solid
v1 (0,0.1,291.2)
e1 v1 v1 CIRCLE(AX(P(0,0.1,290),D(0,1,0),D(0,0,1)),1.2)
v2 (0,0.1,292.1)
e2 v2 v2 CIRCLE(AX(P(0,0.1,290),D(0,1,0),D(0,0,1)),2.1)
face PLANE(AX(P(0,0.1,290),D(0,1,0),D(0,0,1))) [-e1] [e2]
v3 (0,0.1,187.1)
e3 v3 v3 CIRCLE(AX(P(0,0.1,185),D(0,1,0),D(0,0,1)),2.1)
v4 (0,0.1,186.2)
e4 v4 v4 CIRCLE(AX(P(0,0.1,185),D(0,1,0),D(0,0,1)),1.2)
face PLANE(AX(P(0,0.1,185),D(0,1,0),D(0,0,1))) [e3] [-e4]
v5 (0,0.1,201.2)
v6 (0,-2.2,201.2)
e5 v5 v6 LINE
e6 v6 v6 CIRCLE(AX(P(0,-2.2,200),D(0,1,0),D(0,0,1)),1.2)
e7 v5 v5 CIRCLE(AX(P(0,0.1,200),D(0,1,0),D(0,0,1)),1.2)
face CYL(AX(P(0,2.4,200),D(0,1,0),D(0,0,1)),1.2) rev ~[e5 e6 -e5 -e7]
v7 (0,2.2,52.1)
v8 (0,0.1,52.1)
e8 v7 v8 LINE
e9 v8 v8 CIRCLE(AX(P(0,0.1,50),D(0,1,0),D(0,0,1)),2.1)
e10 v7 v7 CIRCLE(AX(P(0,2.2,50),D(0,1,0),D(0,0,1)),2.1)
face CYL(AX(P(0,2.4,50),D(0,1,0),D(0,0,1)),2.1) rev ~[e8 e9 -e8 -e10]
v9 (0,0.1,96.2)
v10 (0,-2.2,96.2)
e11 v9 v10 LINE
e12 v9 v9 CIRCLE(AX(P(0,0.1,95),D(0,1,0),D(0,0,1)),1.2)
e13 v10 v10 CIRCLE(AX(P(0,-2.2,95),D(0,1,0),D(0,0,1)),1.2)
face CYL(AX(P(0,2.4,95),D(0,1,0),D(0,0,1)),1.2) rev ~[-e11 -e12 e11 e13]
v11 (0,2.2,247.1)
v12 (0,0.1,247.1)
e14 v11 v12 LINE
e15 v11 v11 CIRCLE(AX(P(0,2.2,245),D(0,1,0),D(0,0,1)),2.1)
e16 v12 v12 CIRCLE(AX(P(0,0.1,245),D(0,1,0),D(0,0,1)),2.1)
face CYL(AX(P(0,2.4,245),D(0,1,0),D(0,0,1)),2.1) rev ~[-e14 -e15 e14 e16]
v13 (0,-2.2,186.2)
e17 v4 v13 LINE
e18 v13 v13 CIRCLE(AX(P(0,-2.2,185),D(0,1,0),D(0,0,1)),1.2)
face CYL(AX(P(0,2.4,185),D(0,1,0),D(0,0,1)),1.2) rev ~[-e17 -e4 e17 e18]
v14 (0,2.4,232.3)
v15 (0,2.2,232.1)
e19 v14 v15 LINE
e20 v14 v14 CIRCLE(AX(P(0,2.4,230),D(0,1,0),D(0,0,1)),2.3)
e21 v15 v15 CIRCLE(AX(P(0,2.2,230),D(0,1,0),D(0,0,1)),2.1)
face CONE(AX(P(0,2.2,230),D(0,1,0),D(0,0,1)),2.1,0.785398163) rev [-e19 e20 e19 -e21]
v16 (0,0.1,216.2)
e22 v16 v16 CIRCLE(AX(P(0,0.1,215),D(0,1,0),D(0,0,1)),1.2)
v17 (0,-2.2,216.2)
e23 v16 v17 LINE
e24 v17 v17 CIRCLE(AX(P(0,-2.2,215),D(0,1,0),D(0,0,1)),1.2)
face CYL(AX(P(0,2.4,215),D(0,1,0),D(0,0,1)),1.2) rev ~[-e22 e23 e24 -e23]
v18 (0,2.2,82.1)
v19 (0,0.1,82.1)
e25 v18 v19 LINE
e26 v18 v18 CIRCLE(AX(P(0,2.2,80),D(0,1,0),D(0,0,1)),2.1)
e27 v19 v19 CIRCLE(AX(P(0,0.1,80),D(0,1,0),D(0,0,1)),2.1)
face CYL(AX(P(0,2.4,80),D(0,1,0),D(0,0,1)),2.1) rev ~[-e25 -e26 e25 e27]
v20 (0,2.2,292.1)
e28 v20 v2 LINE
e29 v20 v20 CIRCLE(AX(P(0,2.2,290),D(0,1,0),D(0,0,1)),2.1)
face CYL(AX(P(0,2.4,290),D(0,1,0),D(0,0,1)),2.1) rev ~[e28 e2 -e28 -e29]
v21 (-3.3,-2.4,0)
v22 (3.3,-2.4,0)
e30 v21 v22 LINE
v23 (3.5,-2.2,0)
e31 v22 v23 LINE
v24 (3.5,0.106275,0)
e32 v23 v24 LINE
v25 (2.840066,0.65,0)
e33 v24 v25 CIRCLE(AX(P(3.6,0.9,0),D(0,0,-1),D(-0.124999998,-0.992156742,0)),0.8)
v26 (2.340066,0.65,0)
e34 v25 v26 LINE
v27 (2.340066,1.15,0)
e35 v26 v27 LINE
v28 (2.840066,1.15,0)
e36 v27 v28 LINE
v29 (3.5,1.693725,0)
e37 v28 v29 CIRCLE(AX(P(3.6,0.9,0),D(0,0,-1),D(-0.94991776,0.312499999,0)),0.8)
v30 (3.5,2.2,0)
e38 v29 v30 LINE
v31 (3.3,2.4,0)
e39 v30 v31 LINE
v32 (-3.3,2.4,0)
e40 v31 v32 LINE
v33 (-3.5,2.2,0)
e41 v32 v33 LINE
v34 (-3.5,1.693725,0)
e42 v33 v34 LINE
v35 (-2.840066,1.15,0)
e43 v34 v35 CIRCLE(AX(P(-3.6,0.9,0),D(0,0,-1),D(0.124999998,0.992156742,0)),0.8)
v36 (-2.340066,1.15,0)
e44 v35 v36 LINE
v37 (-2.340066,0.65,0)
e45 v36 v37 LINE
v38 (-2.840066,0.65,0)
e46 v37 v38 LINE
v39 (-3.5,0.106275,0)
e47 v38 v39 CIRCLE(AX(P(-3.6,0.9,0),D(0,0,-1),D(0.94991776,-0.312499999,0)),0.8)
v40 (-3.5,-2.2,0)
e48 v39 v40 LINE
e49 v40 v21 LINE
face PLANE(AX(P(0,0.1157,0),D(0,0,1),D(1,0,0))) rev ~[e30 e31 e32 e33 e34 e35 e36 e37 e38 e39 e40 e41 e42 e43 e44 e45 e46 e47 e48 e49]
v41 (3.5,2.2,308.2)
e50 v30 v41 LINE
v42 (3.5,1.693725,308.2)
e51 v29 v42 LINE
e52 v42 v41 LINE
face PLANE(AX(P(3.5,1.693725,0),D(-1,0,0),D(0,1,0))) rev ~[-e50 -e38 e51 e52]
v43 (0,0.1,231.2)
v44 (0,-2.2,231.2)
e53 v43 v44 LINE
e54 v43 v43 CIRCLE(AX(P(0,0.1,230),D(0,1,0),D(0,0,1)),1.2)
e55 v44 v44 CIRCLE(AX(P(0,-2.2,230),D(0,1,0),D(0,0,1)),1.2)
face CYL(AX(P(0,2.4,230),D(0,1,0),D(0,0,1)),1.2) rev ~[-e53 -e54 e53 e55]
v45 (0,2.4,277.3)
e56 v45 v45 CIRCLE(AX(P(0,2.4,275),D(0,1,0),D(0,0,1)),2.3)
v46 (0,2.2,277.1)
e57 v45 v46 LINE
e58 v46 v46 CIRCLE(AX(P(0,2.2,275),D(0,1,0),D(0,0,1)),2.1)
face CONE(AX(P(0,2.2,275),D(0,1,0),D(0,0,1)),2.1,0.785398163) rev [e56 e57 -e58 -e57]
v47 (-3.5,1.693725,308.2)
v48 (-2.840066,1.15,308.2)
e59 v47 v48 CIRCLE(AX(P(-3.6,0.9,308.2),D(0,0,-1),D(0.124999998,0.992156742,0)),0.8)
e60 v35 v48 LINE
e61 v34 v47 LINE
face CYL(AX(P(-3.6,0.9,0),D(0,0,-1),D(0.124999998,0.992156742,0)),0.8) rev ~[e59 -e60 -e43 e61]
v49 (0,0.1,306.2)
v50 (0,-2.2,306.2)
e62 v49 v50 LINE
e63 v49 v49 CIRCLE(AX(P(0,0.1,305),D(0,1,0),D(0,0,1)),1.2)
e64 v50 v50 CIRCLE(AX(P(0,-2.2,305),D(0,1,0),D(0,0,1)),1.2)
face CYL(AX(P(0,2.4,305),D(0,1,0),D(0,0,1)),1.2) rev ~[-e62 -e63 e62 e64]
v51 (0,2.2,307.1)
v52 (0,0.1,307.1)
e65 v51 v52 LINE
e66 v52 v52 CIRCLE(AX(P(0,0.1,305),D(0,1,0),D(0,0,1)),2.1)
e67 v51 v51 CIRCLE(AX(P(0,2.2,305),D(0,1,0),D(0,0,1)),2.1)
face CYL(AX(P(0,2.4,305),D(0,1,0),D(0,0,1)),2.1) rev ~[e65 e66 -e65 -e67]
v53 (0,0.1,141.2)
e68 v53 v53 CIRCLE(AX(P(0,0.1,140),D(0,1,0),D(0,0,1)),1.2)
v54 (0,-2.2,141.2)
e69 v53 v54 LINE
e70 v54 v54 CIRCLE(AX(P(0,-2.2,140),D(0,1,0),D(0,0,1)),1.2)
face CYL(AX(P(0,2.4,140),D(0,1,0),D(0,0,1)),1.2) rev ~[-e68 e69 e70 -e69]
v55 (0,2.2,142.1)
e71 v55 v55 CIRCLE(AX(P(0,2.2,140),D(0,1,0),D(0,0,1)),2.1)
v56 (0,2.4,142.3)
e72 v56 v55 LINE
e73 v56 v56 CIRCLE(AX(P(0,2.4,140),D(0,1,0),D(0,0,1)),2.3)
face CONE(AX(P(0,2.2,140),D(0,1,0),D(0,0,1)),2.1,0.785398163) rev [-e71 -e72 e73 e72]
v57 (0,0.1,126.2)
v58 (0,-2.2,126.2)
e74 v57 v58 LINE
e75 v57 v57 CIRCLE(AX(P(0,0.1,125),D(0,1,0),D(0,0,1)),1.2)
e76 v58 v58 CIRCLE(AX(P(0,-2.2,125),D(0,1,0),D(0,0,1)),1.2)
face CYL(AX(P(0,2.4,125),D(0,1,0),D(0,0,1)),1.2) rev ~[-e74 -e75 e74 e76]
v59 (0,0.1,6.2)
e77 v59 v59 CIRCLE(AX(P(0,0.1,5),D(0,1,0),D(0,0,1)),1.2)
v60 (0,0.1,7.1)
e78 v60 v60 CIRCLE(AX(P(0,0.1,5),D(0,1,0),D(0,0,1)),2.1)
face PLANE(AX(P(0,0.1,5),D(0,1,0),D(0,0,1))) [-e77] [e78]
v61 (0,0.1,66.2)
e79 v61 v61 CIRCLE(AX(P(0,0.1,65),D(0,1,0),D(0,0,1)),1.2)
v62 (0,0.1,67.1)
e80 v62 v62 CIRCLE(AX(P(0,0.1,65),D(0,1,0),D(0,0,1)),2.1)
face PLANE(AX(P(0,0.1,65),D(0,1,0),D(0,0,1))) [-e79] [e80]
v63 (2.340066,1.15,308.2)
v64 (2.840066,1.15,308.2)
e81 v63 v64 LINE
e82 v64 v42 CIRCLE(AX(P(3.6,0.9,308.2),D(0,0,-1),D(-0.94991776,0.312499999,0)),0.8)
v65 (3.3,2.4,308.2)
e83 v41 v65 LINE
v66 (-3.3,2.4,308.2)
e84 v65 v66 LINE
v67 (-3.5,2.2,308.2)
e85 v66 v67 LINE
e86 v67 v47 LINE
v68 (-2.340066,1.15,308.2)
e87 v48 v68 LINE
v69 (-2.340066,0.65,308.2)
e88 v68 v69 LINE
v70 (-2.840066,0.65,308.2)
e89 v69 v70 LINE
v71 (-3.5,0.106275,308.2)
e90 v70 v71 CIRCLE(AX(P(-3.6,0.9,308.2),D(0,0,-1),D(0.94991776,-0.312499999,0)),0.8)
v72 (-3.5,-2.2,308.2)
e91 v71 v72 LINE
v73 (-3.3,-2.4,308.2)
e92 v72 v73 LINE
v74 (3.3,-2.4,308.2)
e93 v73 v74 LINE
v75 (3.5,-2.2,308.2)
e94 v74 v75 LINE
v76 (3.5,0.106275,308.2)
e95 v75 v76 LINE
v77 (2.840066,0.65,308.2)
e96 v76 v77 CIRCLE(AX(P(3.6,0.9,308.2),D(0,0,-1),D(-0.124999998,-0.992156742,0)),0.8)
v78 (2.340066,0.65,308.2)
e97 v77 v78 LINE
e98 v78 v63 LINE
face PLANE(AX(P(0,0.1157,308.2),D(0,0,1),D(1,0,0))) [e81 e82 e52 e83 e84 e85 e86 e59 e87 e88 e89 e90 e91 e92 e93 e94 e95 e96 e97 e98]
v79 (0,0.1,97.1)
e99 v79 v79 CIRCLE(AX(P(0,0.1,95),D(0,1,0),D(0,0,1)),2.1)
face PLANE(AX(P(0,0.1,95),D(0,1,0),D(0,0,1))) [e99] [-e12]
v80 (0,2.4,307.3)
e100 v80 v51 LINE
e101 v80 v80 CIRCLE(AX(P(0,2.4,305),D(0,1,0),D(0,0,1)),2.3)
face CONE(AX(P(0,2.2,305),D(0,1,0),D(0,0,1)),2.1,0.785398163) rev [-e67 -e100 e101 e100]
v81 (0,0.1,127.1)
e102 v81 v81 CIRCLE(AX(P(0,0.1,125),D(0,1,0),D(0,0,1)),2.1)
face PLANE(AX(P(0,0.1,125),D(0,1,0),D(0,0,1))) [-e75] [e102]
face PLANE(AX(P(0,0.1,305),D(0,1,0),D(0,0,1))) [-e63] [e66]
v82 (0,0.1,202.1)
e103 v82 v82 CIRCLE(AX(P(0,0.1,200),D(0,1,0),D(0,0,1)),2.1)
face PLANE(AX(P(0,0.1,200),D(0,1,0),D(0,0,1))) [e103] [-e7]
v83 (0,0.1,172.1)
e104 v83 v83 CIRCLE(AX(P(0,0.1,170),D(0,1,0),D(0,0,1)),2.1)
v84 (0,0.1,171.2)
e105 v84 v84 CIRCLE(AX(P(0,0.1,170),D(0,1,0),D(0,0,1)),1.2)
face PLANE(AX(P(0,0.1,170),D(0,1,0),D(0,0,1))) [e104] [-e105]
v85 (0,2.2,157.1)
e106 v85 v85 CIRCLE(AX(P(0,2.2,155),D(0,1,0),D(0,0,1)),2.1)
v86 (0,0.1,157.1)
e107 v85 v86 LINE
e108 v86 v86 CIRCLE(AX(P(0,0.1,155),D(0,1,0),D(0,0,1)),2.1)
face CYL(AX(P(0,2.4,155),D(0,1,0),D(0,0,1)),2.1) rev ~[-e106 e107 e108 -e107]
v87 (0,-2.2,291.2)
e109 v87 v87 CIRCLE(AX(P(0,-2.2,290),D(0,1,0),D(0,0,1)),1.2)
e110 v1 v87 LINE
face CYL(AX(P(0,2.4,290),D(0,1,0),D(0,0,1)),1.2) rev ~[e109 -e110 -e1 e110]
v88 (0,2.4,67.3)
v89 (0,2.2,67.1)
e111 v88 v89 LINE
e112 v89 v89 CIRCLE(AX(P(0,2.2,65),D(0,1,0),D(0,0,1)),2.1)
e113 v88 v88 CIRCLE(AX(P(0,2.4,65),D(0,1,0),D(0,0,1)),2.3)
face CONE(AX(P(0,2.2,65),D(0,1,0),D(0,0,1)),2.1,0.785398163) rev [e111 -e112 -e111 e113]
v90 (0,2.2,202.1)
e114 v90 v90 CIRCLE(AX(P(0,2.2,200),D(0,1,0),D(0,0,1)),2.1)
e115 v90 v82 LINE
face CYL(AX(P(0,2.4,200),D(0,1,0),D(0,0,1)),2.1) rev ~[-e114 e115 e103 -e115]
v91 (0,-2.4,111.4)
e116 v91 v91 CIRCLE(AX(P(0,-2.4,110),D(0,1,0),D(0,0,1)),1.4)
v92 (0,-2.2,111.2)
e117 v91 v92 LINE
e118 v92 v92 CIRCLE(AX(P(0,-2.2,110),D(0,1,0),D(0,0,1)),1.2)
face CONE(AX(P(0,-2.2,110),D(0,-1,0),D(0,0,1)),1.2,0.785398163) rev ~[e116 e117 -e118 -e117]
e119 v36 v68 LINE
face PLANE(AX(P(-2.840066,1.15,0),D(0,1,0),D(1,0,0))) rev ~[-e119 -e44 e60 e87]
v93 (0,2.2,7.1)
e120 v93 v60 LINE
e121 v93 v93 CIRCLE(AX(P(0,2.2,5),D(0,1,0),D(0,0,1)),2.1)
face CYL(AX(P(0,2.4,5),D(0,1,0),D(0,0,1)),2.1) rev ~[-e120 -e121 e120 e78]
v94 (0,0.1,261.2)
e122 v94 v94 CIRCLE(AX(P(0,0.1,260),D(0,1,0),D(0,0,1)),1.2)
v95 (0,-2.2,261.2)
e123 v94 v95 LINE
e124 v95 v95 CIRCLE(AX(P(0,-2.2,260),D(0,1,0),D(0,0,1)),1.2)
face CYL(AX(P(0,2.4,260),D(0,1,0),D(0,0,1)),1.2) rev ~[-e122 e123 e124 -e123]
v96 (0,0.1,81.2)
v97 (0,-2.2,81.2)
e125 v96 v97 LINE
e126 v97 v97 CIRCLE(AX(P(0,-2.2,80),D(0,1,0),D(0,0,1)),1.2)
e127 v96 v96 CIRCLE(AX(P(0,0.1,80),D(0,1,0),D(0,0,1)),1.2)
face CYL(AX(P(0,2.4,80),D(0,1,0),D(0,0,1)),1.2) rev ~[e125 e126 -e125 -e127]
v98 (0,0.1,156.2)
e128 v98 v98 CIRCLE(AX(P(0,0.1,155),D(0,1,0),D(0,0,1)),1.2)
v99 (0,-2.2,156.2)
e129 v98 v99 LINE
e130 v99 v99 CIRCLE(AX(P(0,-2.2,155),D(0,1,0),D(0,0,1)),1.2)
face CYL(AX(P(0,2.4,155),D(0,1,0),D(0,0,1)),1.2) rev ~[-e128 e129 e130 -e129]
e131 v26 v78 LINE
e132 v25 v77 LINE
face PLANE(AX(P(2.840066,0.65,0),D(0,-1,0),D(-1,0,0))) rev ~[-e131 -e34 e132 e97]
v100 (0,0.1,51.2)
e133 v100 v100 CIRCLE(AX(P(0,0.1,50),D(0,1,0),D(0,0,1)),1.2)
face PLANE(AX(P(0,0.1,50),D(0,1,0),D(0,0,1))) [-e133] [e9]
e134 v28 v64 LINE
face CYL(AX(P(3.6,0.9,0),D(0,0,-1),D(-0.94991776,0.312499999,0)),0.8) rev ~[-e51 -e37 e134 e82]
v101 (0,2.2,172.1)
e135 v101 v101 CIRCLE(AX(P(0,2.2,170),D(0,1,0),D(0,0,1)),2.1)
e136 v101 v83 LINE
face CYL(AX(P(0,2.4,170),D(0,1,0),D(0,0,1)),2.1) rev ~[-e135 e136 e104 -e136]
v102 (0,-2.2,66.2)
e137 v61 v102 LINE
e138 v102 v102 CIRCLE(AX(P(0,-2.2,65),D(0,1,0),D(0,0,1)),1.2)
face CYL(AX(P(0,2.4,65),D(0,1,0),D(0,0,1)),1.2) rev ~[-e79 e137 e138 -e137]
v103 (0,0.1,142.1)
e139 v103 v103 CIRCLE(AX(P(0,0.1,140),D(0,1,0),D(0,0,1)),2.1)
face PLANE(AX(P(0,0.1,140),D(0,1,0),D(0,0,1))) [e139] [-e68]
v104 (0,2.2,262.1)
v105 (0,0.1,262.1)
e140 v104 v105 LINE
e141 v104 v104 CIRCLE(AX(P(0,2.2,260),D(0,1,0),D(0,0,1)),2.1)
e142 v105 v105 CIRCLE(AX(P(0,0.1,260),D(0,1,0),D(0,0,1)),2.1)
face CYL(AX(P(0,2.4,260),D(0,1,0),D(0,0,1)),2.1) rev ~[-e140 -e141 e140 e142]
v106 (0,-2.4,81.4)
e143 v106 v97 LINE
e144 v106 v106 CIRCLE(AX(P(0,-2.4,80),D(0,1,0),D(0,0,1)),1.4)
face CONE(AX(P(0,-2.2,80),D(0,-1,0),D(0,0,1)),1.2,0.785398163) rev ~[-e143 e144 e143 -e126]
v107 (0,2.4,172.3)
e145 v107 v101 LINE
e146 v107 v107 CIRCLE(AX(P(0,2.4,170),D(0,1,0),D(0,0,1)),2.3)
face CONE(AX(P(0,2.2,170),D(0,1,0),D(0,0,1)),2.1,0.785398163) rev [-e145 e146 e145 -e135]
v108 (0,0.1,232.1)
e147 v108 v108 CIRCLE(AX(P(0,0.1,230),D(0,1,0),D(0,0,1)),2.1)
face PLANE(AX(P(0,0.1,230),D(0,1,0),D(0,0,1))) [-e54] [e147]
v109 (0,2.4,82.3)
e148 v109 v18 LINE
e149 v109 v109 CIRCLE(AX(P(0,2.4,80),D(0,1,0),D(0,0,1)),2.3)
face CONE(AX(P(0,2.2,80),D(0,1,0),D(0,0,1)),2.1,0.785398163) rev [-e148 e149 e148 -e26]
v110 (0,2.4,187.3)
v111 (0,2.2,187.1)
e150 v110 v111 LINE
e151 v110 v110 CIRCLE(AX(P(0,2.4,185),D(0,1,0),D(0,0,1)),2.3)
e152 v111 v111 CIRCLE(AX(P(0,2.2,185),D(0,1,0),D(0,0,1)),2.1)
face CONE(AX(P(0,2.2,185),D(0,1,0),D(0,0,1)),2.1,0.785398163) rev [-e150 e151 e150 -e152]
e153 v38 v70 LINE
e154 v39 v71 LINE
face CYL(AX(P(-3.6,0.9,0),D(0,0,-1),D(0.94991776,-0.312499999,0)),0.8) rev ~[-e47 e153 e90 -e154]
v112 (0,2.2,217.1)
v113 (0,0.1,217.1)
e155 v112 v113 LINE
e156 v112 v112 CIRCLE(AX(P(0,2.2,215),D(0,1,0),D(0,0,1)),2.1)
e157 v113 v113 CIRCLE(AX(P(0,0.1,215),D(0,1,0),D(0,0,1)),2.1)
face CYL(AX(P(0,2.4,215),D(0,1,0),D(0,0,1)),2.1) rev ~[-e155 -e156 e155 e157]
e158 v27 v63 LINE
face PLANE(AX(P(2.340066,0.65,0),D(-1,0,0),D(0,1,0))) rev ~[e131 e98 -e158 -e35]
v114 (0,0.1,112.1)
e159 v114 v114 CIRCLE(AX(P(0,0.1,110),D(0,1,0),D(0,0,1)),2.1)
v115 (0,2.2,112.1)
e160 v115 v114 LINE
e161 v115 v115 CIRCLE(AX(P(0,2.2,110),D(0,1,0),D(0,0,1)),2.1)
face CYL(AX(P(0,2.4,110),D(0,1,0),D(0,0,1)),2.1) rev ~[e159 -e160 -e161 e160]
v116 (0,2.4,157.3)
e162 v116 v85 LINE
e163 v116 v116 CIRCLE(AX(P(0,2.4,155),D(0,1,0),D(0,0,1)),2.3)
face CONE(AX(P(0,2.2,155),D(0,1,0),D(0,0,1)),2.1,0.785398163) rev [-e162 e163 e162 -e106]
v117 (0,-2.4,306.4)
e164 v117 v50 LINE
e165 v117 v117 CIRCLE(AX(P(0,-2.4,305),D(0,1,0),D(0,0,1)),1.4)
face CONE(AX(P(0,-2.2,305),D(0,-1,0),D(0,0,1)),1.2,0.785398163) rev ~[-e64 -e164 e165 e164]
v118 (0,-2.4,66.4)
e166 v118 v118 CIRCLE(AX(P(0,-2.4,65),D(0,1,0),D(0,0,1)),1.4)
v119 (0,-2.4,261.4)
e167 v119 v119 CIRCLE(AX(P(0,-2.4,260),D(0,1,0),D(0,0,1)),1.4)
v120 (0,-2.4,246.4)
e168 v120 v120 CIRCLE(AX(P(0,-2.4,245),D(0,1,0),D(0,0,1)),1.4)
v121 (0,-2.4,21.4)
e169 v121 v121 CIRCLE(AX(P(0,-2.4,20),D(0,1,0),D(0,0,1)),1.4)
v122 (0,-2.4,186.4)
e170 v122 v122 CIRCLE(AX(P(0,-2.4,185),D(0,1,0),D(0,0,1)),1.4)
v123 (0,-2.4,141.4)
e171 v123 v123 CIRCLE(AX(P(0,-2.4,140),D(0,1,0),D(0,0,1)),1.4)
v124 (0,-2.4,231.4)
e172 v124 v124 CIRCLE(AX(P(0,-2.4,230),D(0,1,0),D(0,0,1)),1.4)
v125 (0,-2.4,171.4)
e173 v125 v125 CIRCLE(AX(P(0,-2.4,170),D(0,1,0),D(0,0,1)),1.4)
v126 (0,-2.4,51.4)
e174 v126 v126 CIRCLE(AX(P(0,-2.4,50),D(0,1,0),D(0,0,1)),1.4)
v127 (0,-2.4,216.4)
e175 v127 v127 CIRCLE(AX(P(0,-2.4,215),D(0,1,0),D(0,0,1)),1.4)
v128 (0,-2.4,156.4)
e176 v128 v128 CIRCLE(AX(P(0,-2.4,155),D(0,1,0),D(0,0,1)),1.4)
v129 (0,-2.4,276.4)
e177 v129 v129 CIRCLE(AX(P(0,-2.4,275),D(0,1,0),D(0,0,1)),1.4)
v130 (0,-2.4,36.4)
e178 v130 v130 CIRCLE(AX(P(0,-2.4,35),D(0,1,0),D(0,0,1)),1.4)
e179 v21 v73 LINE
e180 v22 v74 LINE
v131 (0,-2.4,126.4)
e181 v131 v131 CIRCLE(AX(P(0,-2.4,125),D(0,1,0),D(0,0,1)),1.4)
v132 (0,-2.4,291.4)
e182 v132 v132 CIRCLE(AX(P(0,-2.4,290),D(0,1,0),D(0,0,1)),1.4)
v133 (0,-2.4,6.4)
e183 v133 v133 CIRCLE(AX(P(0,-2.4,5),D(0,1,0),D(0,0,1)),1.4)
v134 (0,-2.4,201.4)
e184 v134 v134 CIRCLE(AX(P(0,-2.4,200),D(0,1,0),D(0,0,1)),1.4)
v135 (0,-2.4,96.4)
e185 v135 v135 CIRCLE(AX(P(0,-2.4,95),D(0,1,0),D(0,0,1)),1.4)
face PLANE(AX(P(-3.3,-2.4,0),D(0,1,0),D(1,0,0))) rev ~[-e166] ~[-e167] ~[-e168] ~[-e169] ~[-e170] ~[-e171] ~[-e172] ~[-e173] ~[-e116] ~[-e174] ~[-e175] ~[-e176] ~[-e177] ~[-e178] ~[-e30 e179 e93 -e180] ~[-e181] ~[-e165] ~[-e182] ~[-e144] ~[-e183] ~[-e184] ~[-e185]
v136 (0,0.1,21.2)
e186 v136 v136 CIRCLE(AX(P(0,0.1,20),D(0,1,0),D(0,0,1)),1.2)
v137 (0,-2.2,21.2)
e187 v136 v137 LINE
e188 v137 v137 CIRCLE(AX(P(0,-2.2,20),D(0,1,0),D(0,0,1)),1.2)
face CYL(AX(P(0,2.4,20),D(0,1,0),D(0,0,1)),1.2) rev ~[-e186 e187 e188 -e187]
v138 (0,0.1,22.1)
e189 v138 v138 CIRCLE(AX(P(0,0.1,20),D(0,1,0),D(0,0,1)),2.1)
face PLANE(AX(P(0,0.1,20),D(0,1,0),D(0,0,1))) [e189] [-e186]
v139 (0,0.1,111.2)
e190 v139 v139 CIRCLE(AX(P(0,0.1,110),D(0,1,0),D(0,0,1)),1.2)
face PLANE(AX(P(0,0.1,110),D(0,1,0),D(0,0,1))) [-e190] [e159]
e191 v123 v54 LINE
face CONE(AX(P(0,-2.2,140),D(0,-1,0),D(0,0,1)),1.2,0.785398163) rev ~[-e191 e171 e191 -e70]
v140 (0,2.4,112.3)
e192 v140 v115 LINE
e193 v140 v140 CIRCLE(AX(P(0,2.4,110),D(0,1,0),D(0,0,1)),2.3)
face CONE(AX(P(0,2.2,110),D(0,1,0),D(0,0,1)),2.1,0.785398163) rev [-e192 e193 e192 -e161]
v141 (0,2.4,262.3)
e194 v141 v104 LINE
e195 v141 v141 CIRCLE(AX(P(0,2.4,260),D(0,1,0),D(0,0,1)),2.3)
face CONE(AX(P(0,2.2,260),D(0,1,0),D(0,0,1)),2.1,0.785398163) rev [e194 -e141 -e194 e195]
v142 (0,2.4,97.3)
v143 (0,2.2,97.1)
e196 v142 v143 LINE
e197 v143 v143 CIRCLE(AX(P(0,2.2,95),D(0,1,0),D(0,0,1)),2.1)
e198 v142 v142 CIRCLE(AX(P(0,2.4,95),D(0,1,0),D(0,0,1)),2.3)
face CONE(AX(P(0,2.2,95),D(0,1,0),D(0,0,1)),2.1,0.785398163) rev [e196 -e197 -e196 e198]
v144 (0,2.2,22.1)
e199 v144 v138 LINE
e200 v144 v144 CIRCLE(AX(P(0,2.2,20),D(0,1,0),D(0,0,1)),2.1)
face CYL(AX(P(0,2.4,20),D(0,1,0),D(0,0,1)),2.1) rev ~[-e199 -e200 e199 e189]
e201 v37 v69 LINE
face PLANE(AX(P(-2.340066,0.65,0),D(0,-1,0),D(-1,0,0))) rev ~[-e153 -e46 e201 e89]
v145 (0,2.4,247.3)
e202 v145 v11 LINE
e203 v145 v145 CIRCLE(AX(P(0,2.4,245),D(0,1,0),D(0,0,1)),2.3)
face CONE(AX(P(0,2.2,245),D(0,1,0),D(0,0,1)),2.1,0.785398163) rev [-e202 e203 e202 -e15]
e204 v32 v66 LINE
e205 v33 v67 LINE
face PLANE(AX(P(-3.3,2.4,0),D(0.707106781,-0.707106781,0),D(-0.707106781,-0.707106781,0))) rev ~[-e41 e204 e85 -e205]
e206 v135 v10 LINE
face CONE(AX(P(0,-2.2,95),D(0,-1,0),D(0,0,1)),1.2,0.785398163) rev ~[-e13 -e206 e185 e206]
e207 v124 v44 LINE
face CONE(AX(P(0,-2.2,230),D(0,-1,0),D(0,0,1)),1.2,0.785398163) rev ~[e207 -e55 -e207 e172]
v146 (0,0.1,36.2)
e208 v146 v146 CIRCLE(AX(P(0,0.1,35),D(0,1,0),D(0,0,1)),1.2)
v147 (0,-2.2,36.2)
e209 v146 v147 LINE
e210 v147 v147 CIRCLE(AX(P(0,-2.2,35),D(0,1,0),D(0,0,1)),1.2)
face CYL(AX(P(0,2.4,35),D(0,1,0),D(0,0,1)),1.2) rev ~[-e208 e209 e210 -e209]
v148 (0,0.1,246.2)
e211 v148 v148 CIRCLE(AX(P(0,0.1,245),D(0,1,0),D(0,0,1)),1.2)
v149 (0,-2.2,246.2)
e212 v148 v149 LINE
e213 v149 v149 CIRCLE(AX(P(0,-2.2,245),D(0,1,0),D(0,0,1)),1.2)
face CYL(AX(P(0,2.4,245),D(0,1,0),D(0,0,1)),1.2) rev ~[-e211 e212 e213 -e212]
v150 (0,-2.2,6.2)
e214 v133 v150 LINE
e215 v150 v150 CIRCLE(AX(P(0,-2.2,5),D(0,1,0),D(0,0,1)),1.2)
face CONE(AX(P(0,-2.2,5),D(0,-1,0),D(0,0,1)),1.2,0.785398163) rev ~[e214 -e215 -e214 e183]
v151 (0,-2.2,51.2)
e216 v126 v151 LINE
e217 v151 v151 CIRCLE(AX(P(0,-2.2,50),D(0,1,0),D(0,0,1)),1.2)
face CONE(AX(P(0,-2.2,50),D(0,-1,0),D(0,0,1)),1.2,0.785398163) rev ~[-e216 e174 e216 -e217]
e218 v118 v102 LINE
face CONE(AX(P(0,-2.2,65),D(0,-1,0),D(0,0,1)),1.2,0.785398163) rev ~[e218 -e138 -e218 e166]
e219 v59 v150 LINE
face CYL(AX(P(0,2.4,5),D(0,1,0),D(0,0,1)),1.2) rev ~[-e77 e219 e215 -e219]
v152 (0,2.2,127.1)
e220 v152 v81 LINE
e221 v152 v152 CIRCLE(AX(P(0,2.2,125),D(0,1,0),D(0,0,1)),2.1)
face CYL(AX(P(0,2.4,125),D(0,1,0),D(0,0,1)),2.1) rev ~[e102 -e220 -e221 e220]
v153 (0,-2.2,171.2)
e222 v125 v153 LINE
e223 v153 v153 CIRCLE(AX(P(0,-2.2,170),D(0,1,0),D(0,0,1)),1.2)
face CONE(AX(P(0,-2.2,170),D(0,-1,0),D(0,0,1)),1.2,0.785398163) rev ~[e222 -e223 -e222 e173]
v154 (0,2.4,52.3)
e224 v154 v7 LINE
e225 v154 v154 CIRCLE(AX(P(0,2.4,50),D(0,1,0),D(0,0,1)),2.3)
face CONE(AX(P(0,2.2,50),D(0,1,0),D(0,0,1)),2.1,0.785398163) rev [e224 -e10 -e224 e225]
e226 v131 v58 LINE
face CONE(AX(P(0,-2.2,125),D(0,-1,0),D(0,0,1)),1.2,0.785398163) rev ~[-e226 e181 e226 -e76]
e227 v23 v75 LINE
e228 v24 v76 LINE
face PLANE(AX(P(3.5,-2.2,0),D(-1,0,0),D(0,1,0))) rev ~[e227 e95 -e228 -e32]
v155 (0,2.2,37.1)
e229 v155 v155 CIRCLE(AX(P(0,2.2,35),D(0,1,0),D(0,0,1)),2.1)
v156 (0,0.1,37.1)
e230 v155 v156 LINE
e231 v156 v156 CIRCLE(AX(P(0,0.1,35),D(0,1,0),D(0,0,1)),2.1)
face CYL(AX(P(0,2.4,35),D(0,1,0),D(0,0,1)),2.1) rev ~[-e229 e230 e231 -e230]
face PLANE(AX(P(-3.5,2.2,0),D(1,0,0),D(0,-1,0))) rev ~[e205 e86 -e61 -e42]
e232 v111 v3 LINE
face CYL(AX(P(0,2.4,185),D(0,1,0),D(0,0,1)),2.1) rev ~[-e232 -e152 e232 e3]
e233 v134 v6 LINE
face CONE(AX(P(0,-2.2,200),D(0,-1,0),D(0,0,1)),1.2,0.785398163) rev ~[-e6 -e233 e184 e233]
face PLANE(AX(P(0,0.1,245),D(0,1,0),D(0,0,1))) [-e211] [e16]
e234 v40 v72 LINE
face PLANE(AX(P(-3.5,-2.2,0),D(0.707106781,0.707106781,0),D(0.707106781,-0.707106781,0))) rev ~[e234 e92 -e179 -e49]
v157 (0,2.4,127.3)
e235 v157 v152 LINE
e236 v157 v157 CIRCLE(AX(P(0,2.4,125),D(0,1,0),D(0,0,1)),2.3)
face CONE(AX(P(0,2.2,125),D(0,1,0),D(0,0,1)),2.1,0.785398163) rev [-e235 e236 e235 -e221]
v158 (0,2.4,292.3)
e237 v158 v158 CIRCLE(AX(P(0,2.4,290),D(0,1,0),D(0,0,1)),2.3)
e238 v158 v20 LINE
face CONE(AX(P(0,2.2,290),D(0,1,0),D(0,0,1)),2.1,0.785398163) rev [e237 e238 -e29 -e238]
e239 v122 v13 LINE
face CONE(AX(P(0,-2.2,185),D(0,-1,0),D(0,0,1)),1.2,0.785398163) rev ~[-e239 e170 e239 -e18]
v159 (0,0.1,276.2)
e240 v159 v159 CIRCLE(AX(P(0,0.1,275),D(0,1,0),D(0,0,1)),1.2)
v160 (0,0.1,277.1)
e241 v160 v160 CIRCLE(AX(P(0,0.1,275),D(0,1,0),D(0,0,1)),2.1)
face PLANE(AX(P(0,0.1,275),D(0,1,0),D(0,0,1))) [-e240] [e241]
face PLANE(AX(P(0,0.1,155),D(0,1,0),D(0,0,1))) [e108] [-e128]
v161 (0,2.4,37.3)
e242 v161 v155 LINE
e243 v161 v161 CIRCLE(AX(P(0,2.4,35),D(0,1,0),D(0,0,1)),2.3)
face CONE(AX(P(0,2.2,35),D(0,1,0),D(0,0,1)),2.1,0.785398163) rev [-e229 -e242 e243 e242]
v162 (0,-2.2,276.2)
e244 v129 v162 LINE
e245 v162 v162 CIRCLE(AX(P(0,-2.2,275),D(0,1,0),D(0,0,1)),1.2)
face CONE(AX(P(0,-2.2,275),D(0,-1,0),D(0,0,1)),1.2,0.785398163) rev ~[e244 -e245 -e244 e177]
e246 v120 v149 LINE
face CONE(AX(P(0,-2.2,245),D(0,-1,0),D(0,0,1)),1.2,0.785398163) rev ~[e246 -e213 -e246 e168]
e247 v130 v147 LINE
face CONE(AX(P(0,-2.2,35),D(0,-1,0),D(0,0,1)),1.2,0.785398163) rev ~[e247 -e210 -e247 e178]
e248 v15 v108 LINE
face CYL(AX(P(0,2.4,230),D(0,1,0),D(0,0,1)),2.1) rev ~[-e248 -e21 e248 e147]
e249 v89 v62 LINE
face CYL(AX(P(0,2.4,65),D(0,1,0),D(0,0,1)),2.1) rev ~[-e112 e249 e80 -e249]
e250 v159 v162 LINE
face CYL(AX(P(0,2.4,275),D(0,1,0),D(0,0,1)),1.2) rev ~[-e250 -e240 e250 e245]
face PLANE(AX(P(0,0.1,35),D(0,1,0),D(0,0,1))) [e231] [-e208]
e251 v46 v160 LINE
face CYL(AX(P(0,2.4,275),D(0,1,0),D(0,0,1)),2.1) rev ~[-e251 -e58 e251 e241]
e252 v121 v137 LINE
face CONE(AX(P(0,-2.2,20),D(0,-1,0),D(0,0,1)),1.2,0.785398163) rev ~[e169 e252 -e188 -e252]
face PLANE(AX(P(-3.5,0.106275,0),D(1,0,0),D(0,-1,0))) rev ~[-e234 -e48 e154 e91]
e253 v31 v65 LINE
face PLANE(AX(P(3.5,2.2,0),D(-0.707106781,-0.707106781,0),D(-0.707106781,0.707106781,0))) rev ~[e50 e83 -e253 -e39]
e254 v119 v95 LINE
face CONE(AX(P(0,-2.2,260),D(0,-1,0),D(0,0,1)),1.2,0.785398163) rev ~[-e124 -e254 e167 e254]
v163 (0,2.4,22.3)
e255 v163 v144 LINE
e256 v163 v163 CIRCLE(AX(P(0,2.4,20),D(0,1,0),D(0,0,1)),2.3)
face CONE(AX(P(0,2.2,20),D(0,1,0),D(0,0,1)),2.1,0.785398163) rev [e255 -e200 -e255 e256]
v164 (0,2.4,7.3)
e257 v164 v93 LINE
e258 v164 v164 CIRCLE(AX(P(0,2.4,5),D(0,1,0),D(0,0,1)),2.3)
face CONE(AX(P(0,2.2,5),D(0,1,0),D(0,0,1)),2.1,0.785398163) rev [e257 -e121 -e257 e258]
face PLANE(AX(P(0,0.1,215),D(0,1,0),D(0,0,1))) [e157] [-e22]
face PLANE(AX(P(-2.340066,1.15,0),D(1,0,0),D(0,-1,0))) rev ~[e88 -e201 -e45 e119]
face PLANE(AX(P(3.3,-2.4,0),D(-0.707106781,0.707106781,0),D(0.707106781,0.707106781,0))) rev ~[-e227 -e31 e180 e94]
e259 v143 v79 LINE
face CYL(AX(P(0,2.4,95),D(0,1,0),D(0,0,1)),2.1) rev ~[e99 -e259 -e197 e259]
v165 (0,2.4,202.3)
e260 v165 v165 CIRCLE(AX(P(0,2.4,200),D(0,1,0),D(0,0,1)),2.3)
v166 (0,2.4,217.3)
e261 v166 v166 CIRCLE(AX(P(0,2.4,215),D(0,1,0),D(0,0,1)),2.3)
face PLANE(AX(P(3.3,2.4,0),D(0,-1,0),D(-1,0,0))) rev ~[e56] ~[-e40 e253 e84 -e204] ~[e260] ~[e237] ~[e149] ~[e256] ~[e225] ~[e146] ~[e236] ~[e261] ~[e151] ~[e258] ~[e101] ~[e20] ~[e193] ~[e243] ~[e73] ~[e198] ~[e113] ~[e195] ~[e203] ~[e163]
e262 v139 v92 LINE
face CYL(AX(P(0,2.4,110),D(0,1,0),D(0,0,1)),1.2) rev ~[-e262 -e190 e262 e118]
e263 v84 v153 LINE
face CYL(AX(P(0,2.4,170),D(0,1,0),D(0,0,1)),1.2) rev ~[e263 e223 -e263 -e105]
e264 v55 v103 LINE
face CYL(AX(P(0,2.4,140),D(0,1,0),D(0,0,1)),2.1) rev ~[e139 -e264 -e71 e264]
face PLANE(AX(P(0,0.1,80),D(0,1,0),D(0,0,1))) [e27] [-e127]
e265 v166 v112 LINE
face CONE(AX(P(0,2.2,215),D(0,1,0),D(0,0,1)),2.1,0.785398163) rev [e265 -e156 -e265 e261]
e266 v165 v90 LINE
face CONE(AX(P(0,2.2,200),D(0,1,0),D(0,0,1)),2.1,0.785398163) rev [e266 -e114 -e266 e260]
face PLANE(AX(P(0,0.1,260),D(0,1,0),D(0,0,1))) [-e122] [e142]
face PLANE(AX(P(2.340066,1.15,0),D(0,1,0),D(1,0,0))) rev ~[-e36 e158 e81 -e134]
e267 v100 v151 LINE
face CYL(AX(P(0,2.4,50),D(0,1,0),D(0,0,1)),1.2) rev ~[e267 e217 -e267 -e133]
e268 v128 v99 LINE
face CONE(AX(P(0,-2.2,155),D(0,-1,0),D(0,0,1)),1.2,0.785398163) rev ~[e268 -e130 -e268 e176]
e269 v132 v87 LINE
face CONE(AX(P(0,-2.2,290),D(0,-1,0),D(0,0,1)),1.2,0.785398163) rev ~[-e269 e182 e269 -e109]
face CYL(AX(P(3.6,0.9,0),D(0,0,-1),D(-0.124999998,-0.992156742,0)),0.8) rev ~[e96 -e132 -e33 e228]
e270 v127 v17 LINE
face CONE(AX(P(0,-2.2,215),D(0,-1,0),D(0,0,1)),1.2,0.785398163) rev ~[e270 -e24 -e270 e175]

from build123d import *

# Parameters (mm, degrees)
EXTRUDE1_DEPTH             = 308.2
EXTRUDE2_REACH             = 310.257
SKETCH2_R                  = 1.2
SKETCH_R                   = 2.1
SKETCH_R_2                 = 1.2
EXTRUDE4_DEPTH             = 2.3
CHAMFER1_SIZE              = 0.2
LPATTERN1_COUNT            = 21
LPATTERN1_PITCH            = 15
CHAMFER1_OF_LPATTERN1_SIZE = 0.2


with BuildPart() as part:
    # Sketch1 → Extrude1 (new body)
    with BuildSketch(Plane.XY):
        with BuildLine():
            Line((-3.3, -2.4), (3.3, -2.4))
            Line((3.3, -2.4), (3.5, -2.2))
            Line((3.5, -2.2), (3.5, 0.106274607))
            ThreePointArc((3.5, 0.106274607), (3.091294745, 0.282570681), (2.840065792, 0.65))
            Line((2.840065792, 0.65), (2.340065792, 0.65))
            Line((2.340065792, 0.65), (2.340065792, 1.15))
            Line((2.340065792, 1.15), (2.840065792, 1.15))
            ThreePointArc((2.840065792, 1.15), (3.091294745, 1.517429319), (3.5, 1.693725393))
            Line((3.5, 1.693725393), (3.5, 2.2))
            Line((3.5, 2.2), (3.3, 2.4))
            Line((3.3, 2.4), (-3.3, 2.4))
            Line((-3.3, 2.4), (-3.5, 2.2))
            Line((-3.5, 2.2), (-3.5, 1.693725393))
            ThreePointArc((-3.5, 1.693725393), (-3.091294745, 1.517429319), (-2.840065792, 1.15))
            Line((-2.840065792, 1.15), (-2.340065792, 1.15))
            Line((-2.340065792, 1.15), (-2.340065792, 0.65))
            Line((-2.340065792, 0.65), (-2.840065792, 0.65))
            ThreePointArc((-2.840065792, 0.65), (-3.091294745, 0.282570681), (-3.5, 0.106274607))
            Line((-3.5, 0.106274607), (-3.5, -2.2))
            Line((-3.5, -2.2), (-3.3, -2.4))
        make_face()
    extrude(amount=EXTRUDE1_DEPTH)

    # Sketch2 → Extrude2 (cut, up to next)
    with BuildSketch(Plane(origin=(0, 2.4, 0), x_dir=(1, 0, 0), z_dir=(0, 1, 0)), mode=Mode.PRIVATE) as extrude2_sk1:
        with Locations(Location((0, -5, 0), (0, 0, 270))):
            Circle(SKETCH2_R)
    extrude2_tool1 = extrude(extrude2_sk1.sketch, amount=-EXTRUDE2_REACH, mode=Mode.PRIVATE) & part.part
    extrude2 = extrude2_tool1.solids().sort_by_distance((0, 2.4, 5))[0]
    add(extrude2, mode=Mode.SUBTRACT)

    # Sketch → Extrude4 (cut)
    with BuildSketch(Plane(origin=(0, 2.4, 0), x_dir=(1, 0, 0), z_dir=(0, 1, 0))):
        with Locations(Location((0, -5, 0), (0, 0, 270))):
            Circle(SKETCH_R)
        with Locations(Location((0, -5, 0), (0, 0, 270))):
            Circle(SKETCH_R_2, mode=Mode.SUBTRACT)
    extrude4 = extrude(amount=-EXTRUDE4_DEPTH, mode=Mode.SUBTRACT)

    # Chamfer1
    chamfer1_edges = [part.edges().sort_by_distance(p)[0] for p in [
        (0, -2.4, 3.8),
        (0, 2.4, 2.9),
    ]]
    chamfer(chamfer1_edges, length=CHAMFER1_SIZE)

    # LPattern1: Extrude2, Extrude4 ×21
    with Locations(*[(0, 0, i * LPATTERN1_PITCH) for i in range(1, LPATTERN1_COUNT)]):
        add(extrude2, mode=Mode.SUBTRACT)
        add(extrude4, mode=Mode.SUBTRACT)

    # Chamfer1 of LPattern1
    chamfer1_of_lpattern1_edges = [part.edges().sort_by_distance(p)[0] for p in [
        (0, -2.4, 18.8),
        (0, 2.4, 17.9),
        (0, -2.4, 33.8),
        (0, 2.4, 32.9),
        (0, -2.4, 48.8),
        (0, 2.4, 47.9),
        (0, -2.4, 63.8),
        (0, 2.4, 62.9),
        (0, -2.4, 78.8),
        (0, 2.4, 77.9),
        (0, -2.4, 93.8),
        (0, 2.4, 92.9),
        (0, -2.4, 108.8),
        (0, 2.4, 107.9),
        (0, -2.4, 123.8),
        (0, 2.4, 122.9),
        (0, -2.4, 138.8),
        (0, 2.4, 137.9),
        (0, -2.4, 153.8),
        (0, 2.4, 152.9),
        (0, -2.4, 168.8),
        (0, 2.4, 167.9),
        (0, -2.4, 183.8),
        (0, 2.4, 182.9),
        (0, -2.4, 198.8),
        (0, 2.4, 197.9),
        (0, -2.4, 213.8),
        (0, 2.4, 212.9),
        (0, -2.4, 228.8),
        (0, 2.4, 227.9),
        (0, -2.4, 243.8),
        (0, 2.4, 242.9),
        (0, -2.4, 258.8),
        (0, 2.4, 257.9),
        (0, -2.4, 273.8),
        (0, 2.4, 272.9),
        (0, -2.4, 288.8),
        (0, 2.4, 287.9),
        (0, -2.4, 303.8),
        (0, 2.4, 302.9),
    ]]
    chamfer(chamfer1_of_lpattern1_edges, length=CHAMFER1_OF_LPATTERN1_SIZE)


solid = part.part
